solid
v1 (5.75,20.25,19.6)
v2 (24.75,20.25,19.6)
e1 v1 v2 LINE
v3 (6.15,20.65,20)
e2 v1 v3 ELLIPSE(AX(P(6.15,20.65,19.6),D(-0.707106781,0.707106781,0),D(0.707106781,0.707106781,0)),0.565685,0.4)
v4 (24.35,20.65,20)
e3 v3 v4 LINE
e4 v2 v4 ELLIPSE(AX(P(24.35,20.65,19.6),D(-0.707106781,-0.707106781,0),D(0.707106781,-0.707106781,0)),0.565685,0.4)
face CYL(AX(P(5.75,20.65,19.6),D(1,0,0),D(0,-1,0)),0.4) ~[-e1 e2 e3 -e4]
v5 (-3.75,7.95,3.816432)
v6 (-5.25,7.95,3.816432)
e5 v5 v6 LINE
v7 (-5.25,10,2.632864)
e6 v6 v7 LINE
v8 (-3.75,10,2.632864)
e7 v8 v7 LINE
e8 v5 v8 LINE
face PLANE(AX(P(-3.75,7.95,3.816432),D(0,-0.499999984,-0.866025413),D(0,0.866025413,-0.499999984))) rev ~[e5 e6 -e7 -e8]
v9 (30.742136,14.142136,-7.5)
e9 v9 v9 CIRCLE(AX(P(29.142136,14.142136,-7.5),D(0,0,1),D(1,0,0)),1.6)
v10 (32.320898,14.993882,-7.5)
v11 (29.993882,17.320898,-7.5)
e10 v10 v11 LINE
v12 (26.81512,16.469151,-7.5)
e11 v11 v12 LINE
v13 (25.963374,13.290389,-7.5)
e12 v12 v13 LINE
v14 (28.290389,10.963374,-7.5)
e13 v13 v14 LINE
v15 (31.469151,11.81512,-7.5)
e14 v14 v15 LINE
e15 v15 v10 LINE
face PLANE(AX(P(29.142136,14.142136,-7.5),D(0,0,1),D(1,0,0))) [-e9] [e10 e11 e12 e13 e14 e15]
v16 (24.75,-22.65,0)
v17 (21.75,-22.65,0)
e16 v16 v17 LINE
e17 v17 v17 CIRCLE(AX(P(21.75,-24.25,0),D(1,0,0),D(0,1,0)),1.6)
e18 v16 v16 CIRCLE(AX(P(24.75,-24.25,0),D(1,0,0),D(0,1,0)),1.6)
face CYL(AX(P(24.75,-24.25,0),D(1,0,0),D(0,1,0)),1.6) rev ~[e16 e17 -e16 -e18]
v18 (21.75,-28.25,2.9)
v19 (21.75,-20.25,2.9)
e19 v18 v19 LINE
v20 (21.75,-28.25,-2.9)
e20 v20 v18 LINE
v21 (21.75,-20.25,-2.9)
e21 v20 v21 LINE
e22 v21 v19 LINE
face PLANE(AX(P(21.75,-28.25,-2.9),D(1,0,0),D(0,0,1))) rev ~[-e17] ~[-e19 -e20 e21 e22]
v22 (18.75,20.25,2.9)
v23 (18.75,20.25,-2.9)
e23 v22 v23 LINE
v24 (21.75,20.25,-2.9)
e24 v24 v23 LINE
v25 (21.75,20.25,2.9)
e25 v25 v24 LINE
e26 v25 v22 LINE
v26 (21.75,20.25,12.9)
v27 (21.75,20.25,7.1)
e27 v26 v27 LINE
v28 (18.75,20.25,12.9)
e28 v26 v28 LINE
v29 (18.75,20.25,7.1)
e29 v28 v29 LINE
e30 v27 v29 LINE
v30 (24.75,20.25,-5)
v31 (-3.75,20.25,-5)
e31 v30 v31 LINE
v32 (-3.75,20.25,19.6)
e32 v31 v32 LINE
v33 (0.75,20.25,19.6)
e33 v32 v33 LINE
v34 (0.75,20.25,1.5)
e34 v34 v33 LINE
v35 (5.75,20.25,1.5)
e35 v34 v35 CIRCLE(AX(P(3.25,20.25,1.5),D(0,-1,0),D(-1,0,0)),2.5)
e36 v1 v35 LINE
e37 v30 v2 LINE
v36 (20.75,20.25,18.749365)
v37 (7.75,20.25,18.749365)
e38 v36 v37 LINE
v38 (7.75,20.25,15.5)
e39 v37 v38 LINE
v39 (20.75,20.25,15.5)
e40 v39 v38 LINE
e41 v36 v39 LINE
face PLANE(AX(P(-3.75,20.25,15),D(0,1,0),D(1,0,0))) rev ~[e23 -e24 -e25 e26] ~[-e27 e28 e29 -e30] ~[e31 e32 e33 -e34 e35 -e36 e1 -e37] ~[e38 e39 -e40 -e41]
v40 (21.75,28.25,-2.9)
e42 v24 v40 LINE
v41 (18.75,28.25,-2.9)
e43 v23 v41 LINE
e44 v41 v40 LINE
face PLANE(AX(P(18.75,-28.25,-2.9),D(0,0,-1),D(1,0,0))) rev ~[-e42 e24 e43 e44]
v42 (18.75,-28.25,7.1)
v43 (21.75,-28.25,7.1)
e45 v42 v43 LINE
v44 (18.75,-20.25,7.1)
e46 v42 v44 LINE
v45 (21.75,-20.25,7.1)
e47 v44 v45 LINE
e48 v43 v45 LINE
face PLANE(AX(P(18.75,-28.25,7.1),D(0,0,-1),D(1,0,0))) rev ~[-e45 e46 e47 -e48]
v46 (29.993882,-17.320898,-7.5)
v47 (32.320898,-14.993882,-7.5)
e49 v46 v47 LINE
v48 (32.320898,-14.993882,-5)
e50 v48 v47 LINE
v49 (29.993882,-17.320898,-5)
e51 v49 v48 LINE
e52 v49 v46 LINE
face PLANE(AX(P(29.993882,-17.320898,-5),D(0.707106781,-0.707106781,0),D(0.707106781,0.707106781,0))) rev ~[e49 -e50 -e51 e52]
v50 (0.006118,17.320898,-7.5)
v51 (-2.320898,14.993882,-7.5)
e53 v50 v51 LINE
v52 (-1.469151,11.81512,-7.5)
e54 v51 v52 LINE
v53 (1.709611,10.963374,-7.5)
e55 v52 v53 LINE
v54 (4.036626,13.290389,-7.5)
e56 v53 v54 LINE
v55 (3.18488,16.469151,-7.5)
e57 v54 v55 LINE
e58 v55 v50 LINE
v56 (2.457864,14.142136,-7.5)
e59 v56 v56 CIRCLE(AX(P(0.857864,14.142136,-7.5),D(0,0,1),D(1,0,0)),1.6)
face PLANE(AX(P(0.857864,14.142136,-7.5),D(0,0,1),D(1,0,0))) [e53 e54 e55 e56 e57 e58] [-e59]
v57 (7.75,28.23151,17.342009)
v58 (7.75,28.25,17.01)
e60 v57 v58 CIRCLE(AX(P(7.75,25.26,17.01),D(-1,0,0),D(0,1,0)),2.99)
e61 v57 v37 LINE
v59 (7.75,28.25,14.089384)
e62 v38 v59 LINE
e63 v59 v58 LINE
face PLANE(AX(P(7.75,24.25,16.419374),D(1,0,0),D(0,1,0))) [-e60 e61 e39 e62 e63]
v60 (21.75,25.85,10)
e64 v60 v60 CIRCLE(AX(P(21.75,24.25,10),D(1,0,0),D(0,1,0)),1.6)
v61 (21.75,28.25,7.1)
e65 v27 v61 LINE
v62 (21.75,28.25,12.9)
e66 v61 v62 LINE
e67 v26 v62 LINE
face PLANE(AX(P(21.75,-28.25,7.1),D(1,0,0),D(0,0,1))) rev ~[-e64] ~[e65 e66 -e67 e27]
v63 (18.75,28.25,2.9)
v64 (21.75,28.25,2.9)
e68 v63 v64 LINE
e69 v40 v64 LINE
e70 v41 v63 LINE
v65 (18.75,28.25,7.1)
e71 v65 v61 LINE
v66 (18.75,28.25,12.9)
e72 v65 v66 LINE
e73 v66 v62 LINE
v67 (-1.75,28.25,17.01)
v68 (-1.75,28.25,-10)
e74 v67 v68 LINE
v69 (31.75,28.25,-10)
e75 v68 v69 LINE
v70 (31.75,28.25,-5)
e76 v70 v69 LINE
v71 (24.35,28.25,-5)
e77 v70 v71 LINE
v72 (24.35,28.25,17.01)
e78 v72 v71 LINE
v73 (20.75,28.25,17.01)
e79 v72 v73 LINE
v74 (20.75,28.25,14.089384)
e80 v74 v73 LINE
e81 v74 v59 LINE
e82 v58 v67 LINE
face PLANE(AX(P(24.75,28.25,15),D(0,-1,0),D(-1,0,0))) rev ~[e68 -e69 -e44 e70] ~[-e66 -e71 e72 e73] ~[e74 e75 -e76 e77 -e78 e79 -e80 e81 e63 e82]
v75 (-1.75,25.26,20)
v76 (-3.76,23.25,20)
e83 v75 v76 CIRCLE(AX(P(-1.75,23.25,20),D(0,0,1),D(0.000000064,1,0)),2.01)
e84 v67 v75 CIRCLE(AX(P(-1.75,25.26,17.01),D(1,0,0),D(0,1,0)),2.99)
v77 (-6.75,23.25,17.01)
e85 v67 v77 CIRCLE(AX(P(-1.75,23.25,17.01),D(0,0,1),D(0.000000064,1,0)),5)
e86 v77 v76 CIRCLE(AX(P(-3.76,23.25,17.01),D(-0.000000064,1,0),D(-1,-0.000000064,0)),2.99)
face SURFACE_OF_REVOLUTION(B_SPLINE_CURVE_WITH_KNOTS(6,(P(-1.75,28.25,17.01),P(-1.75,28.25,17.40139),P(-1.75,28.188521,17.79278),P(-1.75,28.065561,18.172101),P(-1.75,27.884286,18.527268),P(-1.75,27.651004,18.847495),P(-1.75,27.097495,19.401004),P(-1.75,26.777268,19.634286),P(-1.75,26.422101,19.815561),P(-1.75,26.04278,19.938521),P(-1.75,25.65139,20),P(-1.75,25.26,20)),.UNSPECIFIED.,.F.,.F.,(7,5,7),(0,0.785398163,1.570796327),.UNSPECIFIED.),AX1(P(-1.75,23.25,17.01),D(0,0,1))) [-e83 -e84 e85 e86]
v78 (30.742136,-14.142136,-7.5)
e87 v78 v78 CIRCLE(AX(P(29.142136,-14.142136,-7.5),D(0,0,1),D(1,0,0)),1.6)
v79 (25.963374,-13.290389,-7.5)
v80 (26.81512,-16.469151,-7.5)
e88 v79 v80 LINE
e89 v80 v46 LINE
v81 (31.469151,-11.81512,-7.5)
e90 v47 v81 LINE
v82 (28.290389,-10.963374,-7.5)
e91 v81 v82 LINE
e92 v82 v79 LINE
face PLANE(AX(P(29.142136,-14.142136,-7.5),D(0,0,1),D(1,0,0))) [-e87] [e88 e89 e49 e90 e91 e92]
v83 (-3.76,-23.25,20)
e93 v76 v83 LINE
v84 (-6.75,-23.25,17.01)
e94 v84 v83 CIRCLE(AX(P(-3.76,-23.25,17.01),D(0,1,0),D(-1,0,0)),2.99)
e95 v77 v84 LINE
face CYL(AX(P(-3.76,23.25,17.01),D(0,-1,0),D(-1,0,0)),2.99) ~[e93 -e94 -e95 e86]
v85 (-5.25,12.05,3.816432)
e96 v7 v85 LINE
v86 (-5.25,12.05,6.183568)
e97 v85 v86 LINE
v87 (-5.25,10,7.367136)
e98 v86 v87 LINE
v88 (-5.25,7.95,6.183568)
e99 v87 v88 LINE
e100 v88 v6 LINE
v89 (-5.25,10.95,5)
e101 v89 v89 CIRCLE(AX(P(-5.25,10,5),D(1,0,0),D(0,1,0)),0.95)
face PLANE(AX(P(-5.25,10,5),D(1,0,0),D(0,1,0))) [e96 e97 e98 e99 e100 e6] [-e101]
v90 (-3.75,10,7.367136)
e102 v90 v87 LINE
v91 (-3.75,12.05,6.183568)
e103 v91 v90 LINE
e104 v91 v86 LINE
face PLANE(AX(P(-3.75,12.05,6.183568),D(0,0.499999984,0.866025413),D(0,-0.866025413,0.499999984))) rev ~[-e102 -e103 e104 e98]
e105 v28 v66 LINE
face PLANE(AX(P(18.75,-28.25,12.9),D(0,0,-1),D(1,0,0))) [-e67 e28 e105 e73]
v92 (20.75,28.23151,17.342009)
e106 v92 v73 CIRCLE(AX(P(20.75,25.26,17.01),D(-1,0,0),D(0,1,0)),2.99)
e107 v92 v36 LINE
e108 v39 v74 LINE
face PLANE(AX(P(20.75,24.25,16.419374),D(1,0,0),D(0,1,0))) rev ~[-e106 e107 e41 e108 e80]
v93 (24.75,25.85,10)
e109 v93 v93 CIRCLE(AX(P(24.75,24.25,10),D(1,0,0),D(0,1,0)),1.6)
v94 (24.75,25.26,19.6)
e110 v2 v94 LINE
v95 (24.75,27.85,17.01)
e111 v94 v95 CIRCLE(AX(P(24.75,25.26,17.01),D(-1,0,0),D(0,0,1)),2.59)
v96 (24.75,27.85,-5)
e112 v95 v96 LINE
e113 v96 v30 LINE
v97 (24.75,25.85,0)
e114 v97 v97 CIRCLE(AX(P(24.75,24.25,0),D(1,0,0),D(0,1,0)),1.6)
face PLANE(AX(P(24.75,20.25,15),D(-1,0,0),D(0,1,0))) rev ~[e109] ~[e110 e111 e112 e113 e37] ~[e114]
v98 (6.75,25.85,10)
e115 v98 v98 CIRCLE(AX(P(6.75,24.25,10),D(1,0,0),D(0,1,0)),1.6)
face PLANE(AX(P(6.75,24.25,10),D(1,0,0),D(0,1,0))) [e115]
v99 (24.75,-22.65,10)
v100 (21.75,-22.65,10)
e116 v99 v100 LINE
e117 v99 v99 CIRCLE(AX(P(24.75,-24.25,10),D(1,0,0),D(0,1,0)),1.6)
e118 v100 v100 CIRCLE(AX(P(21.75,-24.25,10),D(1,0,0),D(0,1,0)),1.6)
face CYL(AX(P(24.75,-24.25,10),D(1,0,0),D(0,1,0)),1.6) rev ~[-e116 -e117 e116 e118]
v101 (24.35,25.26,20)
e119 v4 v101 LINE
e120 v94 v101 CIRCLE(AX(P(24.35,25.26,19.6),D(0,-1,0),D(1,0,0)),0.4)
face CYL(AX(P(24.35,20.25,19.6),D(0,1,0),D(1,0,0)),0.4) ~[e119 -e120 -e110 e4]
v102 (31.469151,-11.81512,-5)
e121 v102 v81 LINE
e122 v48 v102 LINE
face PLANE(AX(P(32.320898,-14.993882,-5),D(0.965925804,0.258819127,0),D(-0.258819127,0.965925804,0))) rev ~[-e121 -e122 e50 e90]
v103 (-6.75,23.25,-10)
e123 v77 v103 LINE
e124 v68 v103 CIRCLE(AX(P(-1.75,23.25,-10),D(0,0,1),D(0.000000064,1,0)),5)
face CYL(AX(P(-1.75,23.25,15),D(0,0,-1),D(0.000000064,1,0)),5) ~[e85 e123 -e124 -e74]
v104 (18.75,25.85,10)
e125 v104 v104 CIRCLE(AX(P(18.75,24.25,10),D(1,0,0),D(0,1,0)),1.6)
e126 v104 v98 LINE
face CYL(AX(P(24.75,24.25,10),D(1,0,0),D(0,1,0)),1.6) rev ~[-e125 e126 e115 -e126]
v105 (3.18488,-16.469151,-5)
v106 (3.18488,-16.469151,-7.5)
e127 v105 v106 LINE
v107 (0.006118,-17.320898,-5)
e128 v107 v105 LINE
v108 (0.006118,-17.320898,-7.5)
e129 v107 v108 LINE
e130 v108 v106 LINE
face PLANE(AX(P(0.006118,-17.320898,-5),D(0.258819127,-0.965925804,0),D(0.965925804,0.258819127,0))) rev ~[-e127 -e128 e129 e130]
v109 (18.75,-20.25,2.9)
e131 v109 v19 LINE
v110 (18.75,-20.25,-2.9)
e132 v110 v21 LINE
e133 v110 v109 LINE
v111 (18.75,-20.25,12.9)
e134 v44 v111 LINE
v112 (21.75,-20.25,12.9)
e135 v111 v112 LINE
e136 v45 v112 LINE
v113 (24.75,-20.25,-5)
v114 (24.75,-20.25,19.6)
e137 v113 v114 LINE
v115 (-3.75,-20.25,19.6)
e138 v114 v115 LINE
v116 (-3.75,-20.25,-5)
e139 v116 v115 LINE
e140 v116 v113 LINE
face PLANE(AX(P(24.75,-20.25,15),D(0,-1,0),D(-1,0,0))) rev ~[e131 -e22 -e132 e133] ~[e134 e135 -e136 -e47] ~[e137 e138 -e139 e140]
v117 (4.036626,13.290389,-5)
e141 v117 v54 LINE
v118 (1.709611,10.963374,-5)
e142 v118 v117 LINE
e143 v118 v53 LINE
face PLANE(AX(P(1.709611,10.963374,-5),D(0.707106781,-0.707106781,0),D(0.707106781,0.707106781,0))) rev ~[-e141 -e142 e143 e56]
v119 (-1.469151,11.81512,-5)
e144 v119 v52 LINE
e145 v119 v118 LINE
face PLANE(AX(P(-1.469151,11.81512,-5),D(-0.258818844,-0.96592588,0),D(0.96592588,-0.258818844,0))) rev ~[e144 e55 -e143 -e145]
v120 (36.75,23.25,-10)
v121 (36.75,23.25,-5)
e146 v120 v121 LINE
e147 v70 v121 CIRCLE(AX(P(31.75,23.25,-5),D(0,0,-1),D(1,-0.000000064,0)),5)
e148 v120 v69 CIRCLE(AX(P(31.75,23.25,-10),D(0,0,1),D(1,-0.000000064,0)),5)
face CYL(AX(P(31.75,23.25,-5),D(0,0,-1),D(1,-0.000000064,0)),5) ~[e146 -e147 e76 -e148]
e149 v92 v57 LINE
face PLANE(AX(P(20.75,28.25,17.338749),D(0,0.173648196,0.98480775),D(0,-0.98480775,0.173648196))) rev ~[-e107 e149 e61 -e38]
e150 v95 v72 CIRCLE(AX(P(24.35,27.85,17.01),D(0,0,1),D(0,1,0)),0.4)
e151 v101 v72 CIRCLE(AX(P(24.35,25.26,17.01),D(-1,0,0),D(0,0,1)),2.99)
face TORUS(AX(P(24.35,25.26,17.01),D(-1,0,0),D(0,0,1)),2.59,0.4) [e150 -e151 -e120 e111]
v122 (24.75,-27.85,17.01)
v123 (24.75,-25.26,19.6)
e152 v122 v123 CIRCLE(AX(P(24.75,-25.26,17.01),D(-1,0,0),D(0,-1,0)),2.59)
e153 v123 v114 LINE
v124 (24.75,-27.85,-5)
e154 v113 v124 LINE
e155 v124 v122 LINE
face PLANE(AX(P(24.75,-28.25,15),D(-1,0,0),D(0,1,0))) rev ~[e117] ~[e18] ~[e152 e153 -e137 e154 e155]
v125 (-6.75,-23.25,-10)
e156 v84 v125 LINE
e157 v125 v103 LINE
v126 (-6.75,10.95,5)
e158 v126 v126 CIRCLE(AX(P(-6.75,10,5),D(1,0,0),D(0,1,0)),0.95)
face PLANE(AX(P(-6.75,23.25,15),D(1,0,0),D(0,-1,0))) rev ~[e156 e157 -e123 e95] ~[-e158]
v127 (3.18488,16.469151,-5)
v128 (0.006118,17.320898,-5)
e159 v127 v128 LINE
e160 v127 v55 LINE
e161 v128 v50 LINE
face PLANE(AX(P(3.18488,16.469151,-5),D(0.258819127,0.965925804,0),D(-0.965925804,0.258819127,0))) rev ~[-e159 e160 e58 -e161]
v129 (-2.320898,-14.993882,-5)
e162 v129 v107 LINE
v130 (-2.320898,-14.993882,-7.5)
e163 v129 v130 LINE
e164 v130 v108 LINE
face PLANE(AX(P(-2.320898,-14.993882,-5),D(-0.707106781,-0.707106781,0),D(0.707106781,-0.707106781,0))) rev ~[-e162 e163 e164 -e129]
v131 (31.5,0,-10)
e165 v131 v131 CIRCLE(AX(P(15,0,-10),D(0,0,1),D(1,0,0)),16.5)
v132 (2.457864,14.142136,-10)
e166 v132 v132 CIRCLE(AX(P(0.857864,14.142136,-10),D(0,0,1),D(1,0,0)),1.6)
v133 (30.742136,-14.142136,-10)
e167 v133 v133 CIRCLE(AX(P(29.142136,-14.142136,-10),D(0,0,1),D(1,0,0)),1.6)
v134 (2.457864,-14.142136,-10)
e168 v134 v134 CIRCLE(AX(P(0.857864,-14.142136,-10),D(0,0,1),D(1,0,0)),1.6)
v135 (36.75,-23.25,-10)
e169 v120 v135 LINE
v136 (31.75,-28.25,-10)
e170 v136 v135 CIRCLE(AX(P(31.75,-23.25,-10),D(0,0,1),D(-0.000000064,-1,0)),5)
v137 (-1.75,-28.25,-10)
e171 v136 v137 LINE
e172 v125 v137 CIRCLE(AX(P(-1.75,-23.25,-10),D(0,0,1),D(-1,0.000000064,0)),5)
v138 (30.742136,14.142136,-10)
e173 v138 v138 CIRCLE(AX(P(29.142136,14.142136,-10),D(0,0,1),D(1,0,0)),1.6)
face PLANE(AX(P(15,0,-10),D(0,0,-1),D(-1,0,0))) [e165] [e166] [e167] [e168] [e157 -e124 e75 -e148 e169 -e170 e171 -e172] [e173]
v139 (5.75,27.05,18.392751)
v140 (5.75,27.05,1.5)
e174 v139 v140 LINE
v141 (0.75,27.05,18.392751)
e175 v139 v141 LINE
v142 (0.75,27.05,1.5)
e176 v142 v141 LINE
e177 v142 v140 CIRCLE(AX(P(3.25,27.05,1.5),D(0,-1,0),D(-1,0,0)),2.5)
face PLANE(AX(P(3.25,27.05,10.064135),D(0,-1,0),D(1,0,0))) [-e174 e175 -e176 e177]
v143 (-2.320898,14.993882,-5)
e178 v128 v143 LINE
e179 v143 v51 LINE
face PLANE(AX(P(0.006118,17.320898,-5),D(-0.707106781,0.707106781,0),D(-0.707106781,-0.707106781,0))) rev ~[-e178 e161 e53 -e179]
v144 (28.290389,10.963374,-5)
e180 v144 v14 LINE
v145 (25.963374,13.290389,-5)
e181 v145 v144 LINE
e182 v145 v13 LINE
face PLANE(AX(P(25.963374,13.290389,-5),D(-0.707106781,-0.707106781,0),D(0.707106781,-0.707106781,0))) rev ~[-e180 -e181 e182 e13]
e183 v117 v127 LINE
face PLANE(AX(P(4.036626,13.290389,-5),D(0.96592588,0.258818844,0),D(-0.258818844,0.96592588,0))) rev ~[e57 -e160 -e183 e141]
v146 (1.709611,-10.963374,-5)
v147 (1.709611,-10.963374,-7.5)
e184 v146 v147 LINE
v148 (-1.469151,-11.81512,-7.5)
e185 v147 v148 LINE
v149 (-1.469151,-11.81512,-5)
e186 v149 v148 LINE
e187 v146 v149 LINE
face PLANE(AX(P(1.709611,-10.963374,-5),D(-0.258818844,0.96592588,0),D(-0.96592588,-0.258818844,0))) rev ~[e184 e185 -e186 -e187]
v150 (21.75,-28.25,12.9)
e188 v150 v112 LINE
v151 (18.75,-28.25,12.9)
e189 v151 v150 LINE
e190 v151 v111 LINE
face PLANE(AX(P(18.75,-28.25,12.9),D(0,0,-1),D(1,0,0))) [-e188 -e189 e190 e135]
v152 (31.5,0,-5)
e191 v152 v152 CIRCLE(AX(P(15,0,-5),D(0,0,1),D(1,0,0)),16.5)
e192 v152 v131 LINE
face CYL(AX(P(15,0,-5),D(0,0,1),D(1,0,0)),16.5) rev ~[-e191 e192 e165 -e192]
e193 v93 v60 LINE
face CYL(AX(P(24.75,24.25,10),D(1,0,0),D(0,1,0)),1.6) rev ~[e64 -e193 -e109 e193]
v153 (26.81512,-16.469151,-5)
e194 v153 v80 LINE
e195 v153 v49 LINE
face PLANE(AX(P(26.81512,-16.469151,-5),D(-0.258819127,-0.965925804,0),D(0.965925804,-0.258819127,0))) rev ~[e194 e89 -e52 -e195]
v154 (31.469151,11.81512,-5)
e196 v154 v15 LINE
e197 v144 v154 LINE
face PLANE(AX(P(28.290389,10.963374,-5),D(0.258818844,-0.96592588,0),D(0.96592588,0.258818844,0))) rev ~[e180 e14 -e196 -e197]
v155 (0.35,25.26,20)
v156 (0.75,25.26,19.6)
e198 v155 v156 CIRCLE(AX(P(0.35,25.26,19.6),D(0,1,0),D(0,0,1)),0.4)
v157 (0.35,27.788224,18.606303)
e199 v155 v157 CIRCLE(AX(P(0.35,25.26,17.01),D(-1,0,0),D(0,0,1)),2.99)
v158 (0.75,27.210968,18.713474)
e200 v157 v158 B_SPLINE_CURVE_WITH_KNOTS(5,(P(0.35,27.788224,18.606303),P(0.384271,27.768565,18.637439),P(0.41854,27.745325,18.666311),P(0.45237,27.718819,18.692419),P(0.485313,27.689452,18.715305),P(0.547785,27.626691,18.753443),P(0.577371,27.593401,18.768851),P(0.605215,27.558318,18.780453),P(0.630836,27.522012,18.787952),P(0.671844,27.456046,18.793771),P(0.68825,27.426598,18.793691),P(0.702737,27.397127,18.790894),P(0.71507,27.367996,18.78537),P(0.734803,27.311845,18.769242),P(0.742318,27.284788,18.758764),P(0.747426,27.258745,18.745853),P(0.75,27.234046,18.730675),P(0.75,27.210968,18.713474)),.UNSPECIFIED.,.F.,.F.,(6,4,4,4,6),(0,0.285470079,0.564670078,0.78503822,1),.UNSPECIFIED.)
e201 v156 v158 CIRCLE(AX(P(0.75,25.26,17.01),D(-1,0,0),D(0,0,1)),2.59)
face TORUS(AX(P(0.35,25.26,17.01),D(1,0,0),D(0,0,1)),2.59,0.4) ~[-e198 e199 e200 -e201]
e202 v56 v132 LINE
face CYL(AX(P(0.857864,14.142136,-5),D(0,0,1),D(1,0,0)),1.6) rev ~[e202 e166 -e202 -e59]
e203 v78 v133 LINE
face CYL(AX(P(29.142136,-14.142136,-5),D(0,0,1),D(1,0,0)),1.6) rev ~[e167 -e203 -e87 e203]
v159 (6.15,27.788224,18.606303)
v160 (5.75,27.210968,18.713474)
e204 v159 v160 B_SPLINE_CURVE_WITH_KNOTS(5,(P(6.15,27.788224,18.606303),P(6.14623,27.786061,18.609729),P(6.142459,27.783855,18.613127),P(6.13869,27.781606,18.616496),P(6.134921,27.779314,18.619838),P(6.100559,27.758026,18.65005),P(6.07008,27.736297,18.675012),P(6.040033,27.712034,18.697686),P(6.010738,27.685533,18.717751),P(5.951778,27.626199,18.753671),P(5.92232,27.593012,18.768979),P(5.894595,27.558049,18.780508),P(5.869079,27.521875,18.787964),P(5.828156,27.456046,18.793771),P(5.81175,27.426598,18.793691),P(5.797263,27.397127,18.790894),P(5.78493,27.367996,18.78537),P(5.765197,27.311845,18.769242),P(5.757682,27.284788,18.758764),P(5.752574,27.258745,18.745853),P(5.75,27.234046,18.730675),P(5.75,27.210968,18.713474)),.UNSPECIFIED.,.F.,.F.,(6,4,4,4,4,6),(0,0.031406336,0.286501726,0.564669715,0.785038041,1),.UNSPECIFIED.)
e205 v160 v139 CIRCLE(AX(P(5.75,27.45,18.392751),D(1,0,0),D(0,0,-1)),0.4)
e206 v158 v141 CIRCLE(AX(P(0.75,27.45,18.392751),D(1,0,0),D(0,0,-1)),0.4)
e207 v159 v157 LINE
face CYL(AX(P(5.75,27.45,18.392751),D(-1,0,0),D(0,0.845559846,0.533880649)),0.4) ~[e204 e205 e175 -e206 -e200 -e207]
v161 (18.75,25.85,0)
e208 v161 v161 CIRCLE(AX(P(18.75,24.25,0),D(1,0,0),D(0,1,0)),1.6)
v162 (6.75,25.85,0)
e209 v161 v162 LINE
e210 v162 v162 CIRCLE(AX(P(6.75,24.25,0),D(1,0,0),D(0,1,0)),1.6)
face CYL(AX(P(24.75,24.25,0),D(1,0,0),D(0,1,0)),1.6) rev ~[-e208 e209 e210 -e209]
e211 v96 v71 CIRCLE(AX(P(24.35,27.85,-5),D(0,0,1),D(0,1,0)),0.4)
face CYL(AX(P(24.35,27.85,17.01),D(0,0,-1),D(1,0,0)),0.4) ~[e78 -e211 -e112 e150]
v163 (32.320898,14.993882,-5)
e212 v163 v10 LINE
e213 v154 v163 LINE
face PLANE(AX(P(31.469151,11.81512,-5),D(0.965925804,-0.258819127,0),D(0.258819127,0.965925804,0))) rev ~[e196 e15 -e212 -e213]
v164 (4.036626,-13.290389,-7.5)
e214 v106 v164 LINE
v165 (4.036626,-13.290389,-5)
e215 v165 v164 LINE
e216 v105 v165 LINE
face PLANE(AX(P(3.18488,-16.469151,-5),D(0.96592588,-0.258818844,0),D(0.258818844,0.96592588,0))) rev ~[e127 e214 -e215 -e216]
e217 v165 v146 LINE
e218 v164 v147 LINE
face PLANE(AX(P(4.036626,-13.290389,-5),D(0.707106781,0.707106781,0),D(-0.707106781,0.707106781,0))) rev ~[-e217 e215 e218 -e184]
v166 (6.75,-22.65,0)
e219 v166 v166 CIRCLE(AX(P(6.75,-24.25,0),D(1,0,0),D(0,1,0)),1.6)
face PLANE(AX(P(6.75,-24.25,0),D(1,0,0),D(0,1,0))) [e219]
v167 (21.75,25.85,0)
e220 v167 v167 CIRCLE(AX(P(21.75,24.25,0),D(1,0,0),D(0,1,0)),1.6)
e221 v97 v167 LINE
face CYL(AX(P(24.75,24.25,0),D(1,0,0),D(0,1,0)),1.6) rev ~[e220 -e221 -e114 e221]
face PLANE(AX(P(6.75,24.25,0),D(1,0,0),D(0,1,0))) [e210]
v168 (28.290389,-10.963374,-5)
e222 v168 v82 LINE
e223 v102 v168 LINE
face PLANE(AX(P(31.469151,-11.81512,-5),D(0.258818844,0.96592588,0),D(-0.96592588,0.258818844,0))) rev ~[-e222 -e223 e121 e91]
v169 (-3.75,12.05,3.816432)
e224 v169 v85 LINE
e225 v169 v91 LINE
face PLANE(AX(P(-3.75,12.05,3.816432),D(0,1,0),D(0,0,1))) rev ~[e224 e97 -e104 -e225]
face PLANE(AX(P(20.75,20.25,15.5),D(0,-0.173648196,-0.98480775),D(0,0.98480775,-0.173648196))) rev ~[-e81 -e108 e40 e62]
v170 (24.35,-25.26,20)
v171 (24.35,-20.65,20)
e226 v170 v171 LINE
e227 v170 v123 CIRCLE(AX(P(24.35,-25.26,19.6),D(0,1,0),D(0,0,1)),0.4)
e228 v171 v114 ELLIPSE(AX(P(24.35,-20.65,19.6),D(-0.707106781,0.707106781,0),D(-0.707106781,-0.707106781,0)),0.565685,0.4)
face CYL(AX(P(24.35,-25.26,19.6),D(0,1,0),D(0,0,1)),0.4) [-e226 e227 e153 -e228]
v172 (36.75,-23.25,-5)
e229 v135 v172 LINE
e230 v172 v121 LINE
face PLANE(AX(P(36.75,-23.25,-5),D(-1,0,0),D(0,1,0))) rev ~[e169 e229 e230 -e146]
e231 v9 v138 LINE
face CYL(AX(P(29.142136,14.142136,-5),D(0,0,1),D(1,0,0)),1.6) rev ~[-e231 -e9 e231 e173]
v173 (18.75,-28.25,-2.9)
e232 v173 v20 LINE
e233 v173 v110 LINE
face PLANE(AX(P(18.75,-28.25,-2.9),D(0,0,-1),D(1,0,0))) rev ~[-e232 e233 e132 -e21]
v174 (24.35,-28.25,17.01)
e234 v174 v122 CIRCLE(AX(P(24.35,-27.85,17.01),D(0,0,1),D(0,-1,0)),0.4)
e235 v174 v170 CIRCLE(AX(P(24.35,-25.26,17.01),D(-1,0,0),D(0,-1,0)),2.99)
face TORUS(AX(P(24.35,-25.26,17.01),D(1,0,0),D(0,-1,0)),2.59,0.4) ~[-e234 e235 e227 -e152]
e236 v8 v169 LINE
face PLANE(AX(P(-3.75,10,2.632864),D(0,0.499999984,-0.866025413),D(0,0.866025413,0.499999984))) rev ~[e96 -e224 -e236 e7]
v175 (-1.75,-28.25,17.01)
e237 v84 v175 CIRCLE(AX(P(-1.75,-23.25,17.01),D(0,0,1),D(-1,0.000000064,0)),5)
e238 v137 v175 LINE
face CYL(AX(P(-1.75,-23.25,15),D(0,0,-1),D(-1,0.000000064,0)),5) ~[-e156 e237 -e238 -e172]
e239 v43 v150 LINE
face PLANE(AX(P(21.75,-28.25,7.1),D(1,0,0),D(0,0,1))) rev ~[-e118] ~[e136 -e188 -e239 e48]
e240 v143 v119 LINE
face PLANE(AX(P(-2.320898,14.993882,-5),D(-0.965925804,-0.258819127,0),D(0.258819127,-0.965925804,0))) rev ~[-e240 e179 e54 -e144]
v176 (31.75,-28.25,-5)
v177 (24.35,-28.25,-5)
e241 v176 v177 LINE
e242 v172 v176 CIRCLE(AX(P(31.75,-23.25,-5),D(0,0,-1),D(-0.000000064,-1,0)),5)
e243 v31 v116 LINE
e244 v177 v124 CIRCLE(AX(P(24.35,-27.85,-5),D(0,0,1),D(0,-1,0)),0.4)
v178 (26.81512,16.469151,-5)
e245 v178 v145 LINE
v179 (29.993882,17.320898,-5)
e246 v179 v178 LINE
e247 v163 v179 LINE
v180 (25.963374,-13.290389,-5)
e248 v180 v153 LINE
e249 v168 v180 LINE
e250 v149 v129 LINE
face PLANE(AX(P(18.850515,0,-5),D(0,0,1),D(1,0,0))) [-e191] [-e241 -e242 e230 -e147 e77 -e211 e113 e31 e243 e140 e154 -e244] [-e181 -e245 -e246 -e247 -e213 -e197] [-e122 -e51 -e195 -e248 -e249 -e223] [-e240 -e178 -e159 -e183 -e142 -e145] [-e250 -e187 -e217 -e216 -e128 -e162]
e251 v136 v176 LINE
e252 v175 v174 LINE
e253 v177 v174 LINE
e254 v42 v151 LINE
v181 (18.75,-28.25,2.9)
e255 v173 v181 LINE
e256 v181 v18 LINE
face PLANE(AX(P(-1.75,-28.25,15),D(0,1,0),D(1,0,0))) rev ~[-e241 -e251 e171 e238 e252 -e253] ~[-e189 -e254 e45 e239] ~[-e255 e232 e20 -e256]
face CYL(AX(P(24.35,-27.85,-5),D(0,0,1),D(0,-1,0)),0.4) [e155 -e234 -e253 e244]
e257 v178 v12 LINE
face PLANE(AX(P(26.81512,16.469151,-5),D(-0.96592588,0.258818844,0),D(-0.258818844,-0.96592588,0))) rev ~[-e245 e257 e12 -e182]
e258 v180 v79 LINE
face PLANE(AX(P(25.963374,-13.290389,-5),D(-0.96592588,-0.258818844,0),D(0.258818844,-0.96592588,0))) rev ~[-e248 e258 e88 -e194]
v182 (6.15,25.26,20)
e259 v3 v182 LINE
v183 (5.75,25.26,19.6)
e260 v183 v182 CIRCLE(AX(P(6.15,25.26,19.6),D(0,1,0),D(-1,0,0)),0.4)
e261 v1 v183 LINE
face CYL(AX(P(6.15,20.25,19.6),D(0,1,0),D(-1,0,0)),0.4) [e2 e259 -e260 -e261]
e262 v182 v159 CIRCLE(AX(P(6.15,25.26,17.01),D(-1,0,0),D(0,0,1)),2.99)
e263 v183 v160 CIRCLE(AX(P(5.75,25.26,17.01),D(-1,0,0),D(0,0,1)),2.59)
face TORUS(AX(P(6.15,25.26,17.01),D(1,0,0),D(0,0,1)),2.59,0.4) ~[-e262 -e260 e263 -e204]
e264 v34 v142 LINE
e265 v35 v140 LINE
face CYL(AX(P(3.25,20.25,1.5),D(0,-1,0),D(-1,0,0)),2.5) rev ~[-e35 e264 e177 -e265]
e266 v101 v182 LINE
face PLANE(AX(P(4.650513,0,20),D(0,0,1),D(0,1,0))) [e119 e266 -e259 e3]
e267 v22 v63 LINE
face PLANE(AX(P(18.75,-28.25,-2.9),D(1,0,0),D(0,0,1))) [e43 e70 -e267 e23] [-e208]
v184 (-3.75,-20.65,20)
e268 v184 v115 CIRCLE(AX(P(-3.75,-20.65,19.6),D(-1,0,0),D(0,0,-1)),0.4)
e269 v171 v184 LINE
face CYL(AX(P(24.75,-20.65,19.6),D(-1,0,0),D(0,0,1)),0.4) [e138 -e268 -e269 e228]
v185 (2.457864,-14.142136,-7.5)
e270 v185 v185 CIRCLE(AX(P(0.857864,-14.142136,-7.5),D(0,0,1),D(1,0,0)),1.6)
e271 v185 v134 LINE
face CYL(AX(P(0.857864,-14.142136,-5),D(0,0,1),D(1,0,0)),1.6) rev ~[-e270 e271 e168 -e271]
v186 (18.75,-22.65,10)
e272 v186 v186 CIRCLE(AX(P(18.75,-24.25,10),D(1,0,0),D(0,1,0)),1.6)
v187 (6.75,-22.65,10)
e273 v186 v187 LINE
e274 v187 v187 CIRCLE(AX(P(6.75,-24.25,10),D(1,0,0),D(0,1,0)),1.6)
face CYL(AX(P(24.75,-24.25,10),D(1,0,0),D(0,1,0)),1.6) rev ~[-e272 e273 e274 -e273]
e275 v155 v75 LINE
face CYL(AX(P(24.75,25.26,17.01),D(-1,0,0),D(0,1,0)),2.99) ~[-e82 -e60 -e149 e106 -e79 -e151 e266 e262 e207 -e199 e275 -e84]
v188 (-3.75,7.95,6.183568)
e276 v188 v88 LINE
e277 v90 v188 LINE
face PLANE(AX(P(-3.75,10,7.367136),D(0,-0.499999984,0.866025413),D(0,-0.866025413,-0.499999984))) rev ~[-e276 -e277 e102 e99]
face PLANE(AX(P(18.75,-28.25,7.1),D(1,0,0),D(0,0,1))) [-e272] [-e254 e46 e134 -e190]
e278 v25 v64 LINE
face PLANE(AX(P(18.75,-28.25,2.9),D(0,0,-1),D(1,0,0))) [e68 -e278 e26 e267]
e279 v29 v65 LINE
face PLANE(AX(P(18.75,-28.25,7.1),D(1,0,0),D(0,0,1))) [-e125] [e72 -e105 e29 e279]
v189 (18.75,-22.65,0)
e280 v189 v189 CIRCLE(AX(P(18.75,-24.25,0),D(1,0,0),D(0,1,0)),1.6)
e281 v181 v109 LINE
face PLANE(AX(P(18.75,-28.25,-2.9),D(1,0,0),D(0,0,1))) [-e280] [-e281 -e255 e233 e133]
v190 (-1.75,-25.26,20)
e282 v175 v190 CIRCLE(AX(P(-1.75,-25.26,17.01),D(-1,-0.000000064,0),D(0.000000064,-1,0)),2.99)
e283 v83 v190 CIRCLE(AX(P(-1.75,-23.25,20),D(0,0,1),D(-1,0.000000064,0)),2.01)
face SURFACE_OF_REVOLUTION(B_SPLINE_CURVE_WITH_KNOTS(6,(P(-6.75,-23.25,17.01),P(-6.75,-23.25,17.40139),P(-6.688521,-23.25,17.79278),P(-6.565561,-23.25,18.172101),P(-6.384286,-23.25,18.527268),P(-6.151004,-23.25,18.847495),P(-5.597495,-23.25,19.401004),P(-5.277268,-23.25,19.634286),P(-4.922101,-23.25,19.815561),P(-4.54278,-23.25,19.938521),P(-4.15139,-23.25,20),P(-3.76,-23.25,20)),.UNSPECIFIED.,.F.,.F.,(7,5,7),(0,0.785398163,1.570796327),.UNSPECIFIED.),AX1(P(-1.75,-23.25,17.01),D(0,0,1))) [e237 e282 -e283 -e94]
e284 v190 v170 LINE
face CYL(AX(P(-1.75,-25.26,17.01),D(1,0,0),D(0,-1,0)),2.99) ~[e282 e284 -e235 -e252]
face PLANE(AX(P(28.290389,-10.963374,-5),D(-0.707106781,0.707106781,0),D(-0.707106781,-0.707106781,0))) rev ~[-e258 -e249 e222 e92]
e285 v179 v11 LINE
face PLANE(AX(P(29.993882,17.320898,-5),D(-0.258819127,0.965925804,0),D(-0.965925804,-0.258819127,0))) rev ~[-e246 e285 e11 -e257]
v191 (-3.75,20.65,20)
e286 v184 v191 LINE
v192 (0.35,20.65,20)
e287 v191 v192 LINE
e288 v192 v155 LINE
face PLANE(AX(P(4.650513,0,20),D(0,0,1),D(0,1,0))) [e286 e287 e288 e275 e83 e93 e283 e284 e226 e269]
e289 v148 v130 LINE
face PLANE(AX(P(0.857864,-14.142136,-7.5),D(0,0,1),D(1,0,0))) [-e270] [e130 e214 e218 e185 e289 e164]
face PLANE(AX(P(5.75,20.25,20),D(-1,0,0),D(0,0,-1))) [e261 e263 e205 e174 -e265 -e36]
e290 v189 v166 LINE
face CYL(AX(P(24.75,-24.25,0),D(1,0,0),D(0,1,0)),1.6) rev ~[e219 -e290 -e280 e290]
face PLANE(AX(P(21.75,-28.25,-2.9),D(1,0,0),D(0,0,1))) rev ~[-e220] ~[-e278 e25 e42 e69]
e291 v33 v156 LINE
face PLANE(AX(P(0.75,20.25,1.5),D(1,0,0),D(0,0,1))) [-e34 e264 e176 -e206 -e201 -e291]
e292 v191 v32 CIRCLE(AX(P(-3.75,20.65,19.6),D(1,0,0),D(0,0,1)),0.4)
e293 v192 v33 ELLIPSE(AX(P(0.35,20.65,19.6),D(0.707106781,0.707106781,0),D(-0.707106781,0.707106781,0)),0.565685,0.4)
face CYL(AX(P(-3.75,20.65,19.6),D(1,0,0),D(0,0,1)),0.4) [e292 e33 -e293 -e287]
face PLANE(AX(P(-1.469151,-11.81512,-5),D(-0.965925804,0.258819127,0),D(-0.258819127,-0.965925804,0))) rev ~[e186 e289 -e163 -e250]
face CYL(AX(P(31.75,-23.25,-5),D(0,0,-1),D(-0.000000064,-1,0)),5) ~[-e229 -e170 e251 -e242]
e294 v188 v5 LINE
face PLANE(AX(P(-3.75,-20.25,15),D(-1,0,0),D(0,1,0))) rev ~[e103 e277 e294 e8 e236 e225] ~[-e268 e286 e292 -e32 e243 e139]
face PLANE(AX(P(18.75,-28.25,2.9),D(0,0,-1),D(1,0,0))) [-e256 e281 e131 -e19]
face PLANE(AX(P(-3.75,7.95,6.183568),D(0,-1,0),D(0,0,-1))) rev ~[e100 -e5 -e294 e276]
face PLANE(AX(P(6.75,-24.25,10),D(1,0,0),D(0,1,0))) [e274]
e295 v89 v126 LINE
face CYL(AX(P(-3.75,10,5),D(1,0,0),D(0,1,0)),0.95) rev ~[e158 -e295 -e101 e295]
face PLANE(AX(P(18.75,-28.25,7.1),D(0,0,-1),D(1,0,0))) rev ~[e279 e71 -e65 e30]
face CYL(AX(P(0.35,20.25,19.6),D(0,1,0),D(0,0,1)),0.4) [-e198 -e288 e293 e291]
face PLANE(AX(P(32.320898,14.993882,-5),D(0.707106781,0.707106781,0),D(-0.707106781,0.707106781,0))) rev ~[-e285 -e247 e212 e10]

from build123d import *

# Parameters (mm, degrees)
PAD004_DEPTH    = 5
PAD003_DEPTH    = 20
POCKET018_DEPTH = 20
SKETCH024_R     = 16.5
POCKET017_DEPTH = 5
SKETCH017_R     = 1.6
POCKET014_DEPTH = 5
POCKET019_DEPTH = 2.5
SKETCH020_W     = 3
SKETCH020_H     = 5.8
POCKET013_DEPTH = 56.5
SKETCH022_R     = 1.6
POCKET020_DEPTH = 18
SKETCH019_R     = 0.95
POCKET016_DEPTH = 3
POCKET015_DEPTH = 1.5
PAD_DEPTH       = 5
FILLET_R        = 2.99
POCKET_DEPTH    = 6.8
FILLET001_R     = 0.4
POCKET021_DEPTH = 13


with BuildPart() as part:
    # Sketch023 → Pad004 (new body)
    with BuildSketch(Plane.XY):
        with BuildLine():
            Line((-16.75, 28.25), (16.75, 28.25))
            ThreePointArc((21.75, 23.25), (20.285534, 26.785534), (16.75, 28.25))
            Line((21.75, 23.25), (21.75, -23.25))
            ThreePointArc((16.75, -28.25), (20.285534, -26.785534), (21.75, -23.25))
            Line((16.75, -28.25), (-16.75, -28.25))
            ThreePointArc((-21.75, -23.25), (-20.285534, -26.785534), (-16.75, -28.25))
            Line((-21.75, -23.25), (-21.75, 23.25))
            ThreePointArc((-16.75, 28.25), (-20.285534, 26.785534), (-21.75, 23.25))
        make_face()
    extrude(amount=PAD004_DEPTH)

    # Pad004 Face10 → Pad003 (add)
    with BuildSketch(Plane(origin=(0, 0, 5), x_dir=(0, 1, 0), z_dir=(0, 0, 1))):
        with BuildLine():
            Line((23.25, 21.75), (-23.25, 21.75))
            ThreePointArc((-23.25, 21.75), (-26.785534, 20.285534), (-28.25, 16.75))
            Line((-28.25, 16.75), (-28.25, -16.75))
            ThreePointArc((-28.25, -16.75), (-26.785534, -20.285534), (-23.25, -21.75))
            Line((-23.25, -21.75), (23.25, -21.75))
            ThreePointArc((23.25, -21.75), (26.785534, -20.285534), (28.25, -16.75))
            Line((28.25, -16.75), (28.25, 16.75))
            ThreePointArc((28.25, 16.75), (26.785534, 20.285534), (23.25, 21.75))
        make_face()
    extrude(amount=PAD003_DEPTH)

    # Sketch026 (on Face13 of Pad003) → Pocket018 (cut)
    with BuildSketch(Plane.XY.offset(25)):
        Polygon((9.75, 28.25), (9.75, 20.25), (-18.75, 20.25), (-18.75, -20.25), (9.75, -20.25), (9.75, -28.25), (21.75, -28.25), (21.75, 28.25), align=None)
    extrude(amount=-POCKET018_DEPTH, mode=Mode.SUBTRACT)

    # Sketch024 (on Face14 of Pocket018) → Pocket017 (cut)
    with BuildSketch(Plane.XY.offset(5)):
        Circle(SKETCH024_R)
    extrude(amount=-POCKET017_DEPTH, mode=Mode.SUBTRACT)

    # Sketch017 (on Face15 of Pocket017) → Pocket014 (cut)
    with BuildSketch(Plane.XY.offset(5)):
        with Locations((-14.142136, 14.142136)):
            Circle(SKETCH017_R)
        with Locations((14.142136, 14.142136)):
            Circle(SKETCH017_R)
        with Locations((14.142136, -14.142136)):
            Circle(SKETCH017_R)
        with Locations((-14.142136, -14.142136)):
            Circle(SKETCH017_R)
    extrude(amount=-POCKET014_DEPTH, mode=Mode.SUBTRACT)

    # Sketch021 (on Face19 of Pocket014) → Pocket019 (cut)
    with BuildSketch(Plane.XY.offset(5)):
        Polygon((-11.81512, 16.469151), (-14.993882, 17.320898), (-17.320898, 14.993882), (-16.469151, 11.81512), (-13.290389, 10.963374), (-10.963374, 13.290389), align=None)
        Polygon((14.993882, 17.320898), (11.81512, 16.469151), (10.963374, 13.290389), (13.290389, 10.963374), (16.469151, 11.81512), (17.320898, 14.993882), align=None)
        Polygon((-13.290389, -10.963374), (-16.469151, -11.81512), (-17.320898, -14.993882), (-14.993882, -17.320898), (-11.81512, -16.469151), (-10.963374, -13.290389), align=None)
        Polygon((16.469151, -11.81512), (13.290389, -10.963374), (10.963374, -13.290389), (11.81512, -16.469151), (14.993882, -17.320898), (17.320898, -14.993882), align=None)
    extrude(amount=-POCKET019_DEPTH, mode=Mode.SUBTRACT)

    # Sketch020 (on Face20 of Pocket019) → Pocket013 (cut)
    with BuildSketch(Plane.XZ.offset(28.25)):
        with Locations((5.25, 20)):
            Rectangle(SKETCH020_W, SKETCH020_H)
        with Locations((5.25, 10)):
            Rectangle(SKETCH020_W, SKETCH020_H)
    extrude(amount=-POCKET013_DEPTH, mode=Mode.SUBTRACT)

    # Sketch022 (on Face26 of Pocket013) → Pocket020 (cut)
    with BuildSketch(Plane.YZ.offset(9.75)):
        with Locations((-24.25, 20)):
            Circle(SKETCH022_R)
        with Locations((-24.25, 10)):
            Circle(SKETCH022_R)
        with Locations((24.25, 20)):
            Circle(SKETCH022_R)
        with Locations((24.25, 10)):
            Circle(SKETCH022_R)
    extrude(amount=-POCKET020_DEPTH, mode=Mode.SUBTRACT)

    # Sketch019 (on Face28 of Pocket020) → Pocket016 (cut)
    with BuildSketch(Plane.YZ.offset(-18.75)):
        with Locations((10, 15)):
            Circle(SKETCH019_R)
    extrude(amount=-POCKET016_DEPTH, mode=Mode.SUBTRACT)

    # Sketch018 (on Face29 of Pocket016) → Pocket015 (cut)
    with BuildSketch(Plane.YZ.offset(-18.75)):
        Polygon((12.05, 13.816432), (12.05, 16.183568), (10, 17.367136), (7.95, 16.183568), (7.95, 13.816432), (10, 12.632864), align=None)
    extrude(amount=-POCKET015_DEPTH, mode=Mode.SUBTRACT)

    # Pocket015 Face18 → Pad (add)
    with BuildSketch(Plane(origin=(-8.560893, 0, 25), x_dir=(0, 1, 0), z_dir=(0, 0, 1))):
        with BuildLine():
            ThreePointArc((-23.25, 13.189107), (-26.785534, 11.724641), (-28.25, 8.189107))
            Line((-28.25, 8.189107), (-28.25, -18.310893))
            Line((-28.25, -18.310893), (-20.25, -18.310893))
            Line((-20.25, -18.310893), (-20.25, 10.189107))
            Line((-20.25, 10.189107), (20.25, 10.189107))
            Line((20.25, 10.189107), (20.25, -18.310893))
            Line((20.25, -18.310893), (28.25, -18.310893))
            Line((28.25, -18.310893), (28.25, 8.189107))
            ThreePointArc((28.25, 8.189107), (26.785534, 11.724641), (23.25, 13.189107))
            Line((23.25, 13.189107), (-23.25, 13.189107))
        make_face()
    extrude(amount=PAD_DEPTH)

    # Fillet
    fillet_edges = [part.edges().sort_by_distance(p)[0] for p in [
        (-3.5, 28.25, 30),
    ]]
    fillet(fillet_edges, radius=FILLET_R)

    # Sketch (on Face40 of Fillet) → Pocket (cut)
    with BuildSketch(Plane.XZ.offset(-20.25)):
        with BuildLine():
            ThreePointArc((-14.25, 11.5), (-11.75, 9), (-9.25, 11.5))
            Line((-9.25, 30), (-9.25, 11.5))
            Line((-14.25, 30), (-9.25, 30))
            Line((-14.25, 11.5), (-14.25, 30))
        make_face()
    extrude(amount=-POCKET_DEPTH, mode=Mode.SUBTRACT)

    # Fillet001
    fillet001_edges = [part.edges().sort_by_distance(p)[0] for p in [
        (-11.75, 27.05, 29.404995),
        (-14.25, 22.755, 30),
        (-9.25, 22.755, 30),
        (-4.5, -20.25, 30),
        (-16.5, 20.25, 30),
        (0.25, 20.25, 30),
        (9.75, -22.755, 30),
        (9.75, 22.755, 30),
    ]]
    fillet(fillet001_edges, radius=FILLET001_R)

    # Sketch032 → Pocket021 (cut)
    with BuildSketch(Plane.YZ.offset(5.75)):
        Polygon((28.25, 24.089384), (28.25, 27.338749), (20.25, 28.749365), (20.25, 25.5), align=None)
    extrude(amount=-POCKET021_DEPTH, mode=Mode.SUBTRACT)


with BuildPart() as part_1:
    # Body005 placement: moved
    add(part.part.moved(Location((15, 0, -10))))


solid = part_1.part
